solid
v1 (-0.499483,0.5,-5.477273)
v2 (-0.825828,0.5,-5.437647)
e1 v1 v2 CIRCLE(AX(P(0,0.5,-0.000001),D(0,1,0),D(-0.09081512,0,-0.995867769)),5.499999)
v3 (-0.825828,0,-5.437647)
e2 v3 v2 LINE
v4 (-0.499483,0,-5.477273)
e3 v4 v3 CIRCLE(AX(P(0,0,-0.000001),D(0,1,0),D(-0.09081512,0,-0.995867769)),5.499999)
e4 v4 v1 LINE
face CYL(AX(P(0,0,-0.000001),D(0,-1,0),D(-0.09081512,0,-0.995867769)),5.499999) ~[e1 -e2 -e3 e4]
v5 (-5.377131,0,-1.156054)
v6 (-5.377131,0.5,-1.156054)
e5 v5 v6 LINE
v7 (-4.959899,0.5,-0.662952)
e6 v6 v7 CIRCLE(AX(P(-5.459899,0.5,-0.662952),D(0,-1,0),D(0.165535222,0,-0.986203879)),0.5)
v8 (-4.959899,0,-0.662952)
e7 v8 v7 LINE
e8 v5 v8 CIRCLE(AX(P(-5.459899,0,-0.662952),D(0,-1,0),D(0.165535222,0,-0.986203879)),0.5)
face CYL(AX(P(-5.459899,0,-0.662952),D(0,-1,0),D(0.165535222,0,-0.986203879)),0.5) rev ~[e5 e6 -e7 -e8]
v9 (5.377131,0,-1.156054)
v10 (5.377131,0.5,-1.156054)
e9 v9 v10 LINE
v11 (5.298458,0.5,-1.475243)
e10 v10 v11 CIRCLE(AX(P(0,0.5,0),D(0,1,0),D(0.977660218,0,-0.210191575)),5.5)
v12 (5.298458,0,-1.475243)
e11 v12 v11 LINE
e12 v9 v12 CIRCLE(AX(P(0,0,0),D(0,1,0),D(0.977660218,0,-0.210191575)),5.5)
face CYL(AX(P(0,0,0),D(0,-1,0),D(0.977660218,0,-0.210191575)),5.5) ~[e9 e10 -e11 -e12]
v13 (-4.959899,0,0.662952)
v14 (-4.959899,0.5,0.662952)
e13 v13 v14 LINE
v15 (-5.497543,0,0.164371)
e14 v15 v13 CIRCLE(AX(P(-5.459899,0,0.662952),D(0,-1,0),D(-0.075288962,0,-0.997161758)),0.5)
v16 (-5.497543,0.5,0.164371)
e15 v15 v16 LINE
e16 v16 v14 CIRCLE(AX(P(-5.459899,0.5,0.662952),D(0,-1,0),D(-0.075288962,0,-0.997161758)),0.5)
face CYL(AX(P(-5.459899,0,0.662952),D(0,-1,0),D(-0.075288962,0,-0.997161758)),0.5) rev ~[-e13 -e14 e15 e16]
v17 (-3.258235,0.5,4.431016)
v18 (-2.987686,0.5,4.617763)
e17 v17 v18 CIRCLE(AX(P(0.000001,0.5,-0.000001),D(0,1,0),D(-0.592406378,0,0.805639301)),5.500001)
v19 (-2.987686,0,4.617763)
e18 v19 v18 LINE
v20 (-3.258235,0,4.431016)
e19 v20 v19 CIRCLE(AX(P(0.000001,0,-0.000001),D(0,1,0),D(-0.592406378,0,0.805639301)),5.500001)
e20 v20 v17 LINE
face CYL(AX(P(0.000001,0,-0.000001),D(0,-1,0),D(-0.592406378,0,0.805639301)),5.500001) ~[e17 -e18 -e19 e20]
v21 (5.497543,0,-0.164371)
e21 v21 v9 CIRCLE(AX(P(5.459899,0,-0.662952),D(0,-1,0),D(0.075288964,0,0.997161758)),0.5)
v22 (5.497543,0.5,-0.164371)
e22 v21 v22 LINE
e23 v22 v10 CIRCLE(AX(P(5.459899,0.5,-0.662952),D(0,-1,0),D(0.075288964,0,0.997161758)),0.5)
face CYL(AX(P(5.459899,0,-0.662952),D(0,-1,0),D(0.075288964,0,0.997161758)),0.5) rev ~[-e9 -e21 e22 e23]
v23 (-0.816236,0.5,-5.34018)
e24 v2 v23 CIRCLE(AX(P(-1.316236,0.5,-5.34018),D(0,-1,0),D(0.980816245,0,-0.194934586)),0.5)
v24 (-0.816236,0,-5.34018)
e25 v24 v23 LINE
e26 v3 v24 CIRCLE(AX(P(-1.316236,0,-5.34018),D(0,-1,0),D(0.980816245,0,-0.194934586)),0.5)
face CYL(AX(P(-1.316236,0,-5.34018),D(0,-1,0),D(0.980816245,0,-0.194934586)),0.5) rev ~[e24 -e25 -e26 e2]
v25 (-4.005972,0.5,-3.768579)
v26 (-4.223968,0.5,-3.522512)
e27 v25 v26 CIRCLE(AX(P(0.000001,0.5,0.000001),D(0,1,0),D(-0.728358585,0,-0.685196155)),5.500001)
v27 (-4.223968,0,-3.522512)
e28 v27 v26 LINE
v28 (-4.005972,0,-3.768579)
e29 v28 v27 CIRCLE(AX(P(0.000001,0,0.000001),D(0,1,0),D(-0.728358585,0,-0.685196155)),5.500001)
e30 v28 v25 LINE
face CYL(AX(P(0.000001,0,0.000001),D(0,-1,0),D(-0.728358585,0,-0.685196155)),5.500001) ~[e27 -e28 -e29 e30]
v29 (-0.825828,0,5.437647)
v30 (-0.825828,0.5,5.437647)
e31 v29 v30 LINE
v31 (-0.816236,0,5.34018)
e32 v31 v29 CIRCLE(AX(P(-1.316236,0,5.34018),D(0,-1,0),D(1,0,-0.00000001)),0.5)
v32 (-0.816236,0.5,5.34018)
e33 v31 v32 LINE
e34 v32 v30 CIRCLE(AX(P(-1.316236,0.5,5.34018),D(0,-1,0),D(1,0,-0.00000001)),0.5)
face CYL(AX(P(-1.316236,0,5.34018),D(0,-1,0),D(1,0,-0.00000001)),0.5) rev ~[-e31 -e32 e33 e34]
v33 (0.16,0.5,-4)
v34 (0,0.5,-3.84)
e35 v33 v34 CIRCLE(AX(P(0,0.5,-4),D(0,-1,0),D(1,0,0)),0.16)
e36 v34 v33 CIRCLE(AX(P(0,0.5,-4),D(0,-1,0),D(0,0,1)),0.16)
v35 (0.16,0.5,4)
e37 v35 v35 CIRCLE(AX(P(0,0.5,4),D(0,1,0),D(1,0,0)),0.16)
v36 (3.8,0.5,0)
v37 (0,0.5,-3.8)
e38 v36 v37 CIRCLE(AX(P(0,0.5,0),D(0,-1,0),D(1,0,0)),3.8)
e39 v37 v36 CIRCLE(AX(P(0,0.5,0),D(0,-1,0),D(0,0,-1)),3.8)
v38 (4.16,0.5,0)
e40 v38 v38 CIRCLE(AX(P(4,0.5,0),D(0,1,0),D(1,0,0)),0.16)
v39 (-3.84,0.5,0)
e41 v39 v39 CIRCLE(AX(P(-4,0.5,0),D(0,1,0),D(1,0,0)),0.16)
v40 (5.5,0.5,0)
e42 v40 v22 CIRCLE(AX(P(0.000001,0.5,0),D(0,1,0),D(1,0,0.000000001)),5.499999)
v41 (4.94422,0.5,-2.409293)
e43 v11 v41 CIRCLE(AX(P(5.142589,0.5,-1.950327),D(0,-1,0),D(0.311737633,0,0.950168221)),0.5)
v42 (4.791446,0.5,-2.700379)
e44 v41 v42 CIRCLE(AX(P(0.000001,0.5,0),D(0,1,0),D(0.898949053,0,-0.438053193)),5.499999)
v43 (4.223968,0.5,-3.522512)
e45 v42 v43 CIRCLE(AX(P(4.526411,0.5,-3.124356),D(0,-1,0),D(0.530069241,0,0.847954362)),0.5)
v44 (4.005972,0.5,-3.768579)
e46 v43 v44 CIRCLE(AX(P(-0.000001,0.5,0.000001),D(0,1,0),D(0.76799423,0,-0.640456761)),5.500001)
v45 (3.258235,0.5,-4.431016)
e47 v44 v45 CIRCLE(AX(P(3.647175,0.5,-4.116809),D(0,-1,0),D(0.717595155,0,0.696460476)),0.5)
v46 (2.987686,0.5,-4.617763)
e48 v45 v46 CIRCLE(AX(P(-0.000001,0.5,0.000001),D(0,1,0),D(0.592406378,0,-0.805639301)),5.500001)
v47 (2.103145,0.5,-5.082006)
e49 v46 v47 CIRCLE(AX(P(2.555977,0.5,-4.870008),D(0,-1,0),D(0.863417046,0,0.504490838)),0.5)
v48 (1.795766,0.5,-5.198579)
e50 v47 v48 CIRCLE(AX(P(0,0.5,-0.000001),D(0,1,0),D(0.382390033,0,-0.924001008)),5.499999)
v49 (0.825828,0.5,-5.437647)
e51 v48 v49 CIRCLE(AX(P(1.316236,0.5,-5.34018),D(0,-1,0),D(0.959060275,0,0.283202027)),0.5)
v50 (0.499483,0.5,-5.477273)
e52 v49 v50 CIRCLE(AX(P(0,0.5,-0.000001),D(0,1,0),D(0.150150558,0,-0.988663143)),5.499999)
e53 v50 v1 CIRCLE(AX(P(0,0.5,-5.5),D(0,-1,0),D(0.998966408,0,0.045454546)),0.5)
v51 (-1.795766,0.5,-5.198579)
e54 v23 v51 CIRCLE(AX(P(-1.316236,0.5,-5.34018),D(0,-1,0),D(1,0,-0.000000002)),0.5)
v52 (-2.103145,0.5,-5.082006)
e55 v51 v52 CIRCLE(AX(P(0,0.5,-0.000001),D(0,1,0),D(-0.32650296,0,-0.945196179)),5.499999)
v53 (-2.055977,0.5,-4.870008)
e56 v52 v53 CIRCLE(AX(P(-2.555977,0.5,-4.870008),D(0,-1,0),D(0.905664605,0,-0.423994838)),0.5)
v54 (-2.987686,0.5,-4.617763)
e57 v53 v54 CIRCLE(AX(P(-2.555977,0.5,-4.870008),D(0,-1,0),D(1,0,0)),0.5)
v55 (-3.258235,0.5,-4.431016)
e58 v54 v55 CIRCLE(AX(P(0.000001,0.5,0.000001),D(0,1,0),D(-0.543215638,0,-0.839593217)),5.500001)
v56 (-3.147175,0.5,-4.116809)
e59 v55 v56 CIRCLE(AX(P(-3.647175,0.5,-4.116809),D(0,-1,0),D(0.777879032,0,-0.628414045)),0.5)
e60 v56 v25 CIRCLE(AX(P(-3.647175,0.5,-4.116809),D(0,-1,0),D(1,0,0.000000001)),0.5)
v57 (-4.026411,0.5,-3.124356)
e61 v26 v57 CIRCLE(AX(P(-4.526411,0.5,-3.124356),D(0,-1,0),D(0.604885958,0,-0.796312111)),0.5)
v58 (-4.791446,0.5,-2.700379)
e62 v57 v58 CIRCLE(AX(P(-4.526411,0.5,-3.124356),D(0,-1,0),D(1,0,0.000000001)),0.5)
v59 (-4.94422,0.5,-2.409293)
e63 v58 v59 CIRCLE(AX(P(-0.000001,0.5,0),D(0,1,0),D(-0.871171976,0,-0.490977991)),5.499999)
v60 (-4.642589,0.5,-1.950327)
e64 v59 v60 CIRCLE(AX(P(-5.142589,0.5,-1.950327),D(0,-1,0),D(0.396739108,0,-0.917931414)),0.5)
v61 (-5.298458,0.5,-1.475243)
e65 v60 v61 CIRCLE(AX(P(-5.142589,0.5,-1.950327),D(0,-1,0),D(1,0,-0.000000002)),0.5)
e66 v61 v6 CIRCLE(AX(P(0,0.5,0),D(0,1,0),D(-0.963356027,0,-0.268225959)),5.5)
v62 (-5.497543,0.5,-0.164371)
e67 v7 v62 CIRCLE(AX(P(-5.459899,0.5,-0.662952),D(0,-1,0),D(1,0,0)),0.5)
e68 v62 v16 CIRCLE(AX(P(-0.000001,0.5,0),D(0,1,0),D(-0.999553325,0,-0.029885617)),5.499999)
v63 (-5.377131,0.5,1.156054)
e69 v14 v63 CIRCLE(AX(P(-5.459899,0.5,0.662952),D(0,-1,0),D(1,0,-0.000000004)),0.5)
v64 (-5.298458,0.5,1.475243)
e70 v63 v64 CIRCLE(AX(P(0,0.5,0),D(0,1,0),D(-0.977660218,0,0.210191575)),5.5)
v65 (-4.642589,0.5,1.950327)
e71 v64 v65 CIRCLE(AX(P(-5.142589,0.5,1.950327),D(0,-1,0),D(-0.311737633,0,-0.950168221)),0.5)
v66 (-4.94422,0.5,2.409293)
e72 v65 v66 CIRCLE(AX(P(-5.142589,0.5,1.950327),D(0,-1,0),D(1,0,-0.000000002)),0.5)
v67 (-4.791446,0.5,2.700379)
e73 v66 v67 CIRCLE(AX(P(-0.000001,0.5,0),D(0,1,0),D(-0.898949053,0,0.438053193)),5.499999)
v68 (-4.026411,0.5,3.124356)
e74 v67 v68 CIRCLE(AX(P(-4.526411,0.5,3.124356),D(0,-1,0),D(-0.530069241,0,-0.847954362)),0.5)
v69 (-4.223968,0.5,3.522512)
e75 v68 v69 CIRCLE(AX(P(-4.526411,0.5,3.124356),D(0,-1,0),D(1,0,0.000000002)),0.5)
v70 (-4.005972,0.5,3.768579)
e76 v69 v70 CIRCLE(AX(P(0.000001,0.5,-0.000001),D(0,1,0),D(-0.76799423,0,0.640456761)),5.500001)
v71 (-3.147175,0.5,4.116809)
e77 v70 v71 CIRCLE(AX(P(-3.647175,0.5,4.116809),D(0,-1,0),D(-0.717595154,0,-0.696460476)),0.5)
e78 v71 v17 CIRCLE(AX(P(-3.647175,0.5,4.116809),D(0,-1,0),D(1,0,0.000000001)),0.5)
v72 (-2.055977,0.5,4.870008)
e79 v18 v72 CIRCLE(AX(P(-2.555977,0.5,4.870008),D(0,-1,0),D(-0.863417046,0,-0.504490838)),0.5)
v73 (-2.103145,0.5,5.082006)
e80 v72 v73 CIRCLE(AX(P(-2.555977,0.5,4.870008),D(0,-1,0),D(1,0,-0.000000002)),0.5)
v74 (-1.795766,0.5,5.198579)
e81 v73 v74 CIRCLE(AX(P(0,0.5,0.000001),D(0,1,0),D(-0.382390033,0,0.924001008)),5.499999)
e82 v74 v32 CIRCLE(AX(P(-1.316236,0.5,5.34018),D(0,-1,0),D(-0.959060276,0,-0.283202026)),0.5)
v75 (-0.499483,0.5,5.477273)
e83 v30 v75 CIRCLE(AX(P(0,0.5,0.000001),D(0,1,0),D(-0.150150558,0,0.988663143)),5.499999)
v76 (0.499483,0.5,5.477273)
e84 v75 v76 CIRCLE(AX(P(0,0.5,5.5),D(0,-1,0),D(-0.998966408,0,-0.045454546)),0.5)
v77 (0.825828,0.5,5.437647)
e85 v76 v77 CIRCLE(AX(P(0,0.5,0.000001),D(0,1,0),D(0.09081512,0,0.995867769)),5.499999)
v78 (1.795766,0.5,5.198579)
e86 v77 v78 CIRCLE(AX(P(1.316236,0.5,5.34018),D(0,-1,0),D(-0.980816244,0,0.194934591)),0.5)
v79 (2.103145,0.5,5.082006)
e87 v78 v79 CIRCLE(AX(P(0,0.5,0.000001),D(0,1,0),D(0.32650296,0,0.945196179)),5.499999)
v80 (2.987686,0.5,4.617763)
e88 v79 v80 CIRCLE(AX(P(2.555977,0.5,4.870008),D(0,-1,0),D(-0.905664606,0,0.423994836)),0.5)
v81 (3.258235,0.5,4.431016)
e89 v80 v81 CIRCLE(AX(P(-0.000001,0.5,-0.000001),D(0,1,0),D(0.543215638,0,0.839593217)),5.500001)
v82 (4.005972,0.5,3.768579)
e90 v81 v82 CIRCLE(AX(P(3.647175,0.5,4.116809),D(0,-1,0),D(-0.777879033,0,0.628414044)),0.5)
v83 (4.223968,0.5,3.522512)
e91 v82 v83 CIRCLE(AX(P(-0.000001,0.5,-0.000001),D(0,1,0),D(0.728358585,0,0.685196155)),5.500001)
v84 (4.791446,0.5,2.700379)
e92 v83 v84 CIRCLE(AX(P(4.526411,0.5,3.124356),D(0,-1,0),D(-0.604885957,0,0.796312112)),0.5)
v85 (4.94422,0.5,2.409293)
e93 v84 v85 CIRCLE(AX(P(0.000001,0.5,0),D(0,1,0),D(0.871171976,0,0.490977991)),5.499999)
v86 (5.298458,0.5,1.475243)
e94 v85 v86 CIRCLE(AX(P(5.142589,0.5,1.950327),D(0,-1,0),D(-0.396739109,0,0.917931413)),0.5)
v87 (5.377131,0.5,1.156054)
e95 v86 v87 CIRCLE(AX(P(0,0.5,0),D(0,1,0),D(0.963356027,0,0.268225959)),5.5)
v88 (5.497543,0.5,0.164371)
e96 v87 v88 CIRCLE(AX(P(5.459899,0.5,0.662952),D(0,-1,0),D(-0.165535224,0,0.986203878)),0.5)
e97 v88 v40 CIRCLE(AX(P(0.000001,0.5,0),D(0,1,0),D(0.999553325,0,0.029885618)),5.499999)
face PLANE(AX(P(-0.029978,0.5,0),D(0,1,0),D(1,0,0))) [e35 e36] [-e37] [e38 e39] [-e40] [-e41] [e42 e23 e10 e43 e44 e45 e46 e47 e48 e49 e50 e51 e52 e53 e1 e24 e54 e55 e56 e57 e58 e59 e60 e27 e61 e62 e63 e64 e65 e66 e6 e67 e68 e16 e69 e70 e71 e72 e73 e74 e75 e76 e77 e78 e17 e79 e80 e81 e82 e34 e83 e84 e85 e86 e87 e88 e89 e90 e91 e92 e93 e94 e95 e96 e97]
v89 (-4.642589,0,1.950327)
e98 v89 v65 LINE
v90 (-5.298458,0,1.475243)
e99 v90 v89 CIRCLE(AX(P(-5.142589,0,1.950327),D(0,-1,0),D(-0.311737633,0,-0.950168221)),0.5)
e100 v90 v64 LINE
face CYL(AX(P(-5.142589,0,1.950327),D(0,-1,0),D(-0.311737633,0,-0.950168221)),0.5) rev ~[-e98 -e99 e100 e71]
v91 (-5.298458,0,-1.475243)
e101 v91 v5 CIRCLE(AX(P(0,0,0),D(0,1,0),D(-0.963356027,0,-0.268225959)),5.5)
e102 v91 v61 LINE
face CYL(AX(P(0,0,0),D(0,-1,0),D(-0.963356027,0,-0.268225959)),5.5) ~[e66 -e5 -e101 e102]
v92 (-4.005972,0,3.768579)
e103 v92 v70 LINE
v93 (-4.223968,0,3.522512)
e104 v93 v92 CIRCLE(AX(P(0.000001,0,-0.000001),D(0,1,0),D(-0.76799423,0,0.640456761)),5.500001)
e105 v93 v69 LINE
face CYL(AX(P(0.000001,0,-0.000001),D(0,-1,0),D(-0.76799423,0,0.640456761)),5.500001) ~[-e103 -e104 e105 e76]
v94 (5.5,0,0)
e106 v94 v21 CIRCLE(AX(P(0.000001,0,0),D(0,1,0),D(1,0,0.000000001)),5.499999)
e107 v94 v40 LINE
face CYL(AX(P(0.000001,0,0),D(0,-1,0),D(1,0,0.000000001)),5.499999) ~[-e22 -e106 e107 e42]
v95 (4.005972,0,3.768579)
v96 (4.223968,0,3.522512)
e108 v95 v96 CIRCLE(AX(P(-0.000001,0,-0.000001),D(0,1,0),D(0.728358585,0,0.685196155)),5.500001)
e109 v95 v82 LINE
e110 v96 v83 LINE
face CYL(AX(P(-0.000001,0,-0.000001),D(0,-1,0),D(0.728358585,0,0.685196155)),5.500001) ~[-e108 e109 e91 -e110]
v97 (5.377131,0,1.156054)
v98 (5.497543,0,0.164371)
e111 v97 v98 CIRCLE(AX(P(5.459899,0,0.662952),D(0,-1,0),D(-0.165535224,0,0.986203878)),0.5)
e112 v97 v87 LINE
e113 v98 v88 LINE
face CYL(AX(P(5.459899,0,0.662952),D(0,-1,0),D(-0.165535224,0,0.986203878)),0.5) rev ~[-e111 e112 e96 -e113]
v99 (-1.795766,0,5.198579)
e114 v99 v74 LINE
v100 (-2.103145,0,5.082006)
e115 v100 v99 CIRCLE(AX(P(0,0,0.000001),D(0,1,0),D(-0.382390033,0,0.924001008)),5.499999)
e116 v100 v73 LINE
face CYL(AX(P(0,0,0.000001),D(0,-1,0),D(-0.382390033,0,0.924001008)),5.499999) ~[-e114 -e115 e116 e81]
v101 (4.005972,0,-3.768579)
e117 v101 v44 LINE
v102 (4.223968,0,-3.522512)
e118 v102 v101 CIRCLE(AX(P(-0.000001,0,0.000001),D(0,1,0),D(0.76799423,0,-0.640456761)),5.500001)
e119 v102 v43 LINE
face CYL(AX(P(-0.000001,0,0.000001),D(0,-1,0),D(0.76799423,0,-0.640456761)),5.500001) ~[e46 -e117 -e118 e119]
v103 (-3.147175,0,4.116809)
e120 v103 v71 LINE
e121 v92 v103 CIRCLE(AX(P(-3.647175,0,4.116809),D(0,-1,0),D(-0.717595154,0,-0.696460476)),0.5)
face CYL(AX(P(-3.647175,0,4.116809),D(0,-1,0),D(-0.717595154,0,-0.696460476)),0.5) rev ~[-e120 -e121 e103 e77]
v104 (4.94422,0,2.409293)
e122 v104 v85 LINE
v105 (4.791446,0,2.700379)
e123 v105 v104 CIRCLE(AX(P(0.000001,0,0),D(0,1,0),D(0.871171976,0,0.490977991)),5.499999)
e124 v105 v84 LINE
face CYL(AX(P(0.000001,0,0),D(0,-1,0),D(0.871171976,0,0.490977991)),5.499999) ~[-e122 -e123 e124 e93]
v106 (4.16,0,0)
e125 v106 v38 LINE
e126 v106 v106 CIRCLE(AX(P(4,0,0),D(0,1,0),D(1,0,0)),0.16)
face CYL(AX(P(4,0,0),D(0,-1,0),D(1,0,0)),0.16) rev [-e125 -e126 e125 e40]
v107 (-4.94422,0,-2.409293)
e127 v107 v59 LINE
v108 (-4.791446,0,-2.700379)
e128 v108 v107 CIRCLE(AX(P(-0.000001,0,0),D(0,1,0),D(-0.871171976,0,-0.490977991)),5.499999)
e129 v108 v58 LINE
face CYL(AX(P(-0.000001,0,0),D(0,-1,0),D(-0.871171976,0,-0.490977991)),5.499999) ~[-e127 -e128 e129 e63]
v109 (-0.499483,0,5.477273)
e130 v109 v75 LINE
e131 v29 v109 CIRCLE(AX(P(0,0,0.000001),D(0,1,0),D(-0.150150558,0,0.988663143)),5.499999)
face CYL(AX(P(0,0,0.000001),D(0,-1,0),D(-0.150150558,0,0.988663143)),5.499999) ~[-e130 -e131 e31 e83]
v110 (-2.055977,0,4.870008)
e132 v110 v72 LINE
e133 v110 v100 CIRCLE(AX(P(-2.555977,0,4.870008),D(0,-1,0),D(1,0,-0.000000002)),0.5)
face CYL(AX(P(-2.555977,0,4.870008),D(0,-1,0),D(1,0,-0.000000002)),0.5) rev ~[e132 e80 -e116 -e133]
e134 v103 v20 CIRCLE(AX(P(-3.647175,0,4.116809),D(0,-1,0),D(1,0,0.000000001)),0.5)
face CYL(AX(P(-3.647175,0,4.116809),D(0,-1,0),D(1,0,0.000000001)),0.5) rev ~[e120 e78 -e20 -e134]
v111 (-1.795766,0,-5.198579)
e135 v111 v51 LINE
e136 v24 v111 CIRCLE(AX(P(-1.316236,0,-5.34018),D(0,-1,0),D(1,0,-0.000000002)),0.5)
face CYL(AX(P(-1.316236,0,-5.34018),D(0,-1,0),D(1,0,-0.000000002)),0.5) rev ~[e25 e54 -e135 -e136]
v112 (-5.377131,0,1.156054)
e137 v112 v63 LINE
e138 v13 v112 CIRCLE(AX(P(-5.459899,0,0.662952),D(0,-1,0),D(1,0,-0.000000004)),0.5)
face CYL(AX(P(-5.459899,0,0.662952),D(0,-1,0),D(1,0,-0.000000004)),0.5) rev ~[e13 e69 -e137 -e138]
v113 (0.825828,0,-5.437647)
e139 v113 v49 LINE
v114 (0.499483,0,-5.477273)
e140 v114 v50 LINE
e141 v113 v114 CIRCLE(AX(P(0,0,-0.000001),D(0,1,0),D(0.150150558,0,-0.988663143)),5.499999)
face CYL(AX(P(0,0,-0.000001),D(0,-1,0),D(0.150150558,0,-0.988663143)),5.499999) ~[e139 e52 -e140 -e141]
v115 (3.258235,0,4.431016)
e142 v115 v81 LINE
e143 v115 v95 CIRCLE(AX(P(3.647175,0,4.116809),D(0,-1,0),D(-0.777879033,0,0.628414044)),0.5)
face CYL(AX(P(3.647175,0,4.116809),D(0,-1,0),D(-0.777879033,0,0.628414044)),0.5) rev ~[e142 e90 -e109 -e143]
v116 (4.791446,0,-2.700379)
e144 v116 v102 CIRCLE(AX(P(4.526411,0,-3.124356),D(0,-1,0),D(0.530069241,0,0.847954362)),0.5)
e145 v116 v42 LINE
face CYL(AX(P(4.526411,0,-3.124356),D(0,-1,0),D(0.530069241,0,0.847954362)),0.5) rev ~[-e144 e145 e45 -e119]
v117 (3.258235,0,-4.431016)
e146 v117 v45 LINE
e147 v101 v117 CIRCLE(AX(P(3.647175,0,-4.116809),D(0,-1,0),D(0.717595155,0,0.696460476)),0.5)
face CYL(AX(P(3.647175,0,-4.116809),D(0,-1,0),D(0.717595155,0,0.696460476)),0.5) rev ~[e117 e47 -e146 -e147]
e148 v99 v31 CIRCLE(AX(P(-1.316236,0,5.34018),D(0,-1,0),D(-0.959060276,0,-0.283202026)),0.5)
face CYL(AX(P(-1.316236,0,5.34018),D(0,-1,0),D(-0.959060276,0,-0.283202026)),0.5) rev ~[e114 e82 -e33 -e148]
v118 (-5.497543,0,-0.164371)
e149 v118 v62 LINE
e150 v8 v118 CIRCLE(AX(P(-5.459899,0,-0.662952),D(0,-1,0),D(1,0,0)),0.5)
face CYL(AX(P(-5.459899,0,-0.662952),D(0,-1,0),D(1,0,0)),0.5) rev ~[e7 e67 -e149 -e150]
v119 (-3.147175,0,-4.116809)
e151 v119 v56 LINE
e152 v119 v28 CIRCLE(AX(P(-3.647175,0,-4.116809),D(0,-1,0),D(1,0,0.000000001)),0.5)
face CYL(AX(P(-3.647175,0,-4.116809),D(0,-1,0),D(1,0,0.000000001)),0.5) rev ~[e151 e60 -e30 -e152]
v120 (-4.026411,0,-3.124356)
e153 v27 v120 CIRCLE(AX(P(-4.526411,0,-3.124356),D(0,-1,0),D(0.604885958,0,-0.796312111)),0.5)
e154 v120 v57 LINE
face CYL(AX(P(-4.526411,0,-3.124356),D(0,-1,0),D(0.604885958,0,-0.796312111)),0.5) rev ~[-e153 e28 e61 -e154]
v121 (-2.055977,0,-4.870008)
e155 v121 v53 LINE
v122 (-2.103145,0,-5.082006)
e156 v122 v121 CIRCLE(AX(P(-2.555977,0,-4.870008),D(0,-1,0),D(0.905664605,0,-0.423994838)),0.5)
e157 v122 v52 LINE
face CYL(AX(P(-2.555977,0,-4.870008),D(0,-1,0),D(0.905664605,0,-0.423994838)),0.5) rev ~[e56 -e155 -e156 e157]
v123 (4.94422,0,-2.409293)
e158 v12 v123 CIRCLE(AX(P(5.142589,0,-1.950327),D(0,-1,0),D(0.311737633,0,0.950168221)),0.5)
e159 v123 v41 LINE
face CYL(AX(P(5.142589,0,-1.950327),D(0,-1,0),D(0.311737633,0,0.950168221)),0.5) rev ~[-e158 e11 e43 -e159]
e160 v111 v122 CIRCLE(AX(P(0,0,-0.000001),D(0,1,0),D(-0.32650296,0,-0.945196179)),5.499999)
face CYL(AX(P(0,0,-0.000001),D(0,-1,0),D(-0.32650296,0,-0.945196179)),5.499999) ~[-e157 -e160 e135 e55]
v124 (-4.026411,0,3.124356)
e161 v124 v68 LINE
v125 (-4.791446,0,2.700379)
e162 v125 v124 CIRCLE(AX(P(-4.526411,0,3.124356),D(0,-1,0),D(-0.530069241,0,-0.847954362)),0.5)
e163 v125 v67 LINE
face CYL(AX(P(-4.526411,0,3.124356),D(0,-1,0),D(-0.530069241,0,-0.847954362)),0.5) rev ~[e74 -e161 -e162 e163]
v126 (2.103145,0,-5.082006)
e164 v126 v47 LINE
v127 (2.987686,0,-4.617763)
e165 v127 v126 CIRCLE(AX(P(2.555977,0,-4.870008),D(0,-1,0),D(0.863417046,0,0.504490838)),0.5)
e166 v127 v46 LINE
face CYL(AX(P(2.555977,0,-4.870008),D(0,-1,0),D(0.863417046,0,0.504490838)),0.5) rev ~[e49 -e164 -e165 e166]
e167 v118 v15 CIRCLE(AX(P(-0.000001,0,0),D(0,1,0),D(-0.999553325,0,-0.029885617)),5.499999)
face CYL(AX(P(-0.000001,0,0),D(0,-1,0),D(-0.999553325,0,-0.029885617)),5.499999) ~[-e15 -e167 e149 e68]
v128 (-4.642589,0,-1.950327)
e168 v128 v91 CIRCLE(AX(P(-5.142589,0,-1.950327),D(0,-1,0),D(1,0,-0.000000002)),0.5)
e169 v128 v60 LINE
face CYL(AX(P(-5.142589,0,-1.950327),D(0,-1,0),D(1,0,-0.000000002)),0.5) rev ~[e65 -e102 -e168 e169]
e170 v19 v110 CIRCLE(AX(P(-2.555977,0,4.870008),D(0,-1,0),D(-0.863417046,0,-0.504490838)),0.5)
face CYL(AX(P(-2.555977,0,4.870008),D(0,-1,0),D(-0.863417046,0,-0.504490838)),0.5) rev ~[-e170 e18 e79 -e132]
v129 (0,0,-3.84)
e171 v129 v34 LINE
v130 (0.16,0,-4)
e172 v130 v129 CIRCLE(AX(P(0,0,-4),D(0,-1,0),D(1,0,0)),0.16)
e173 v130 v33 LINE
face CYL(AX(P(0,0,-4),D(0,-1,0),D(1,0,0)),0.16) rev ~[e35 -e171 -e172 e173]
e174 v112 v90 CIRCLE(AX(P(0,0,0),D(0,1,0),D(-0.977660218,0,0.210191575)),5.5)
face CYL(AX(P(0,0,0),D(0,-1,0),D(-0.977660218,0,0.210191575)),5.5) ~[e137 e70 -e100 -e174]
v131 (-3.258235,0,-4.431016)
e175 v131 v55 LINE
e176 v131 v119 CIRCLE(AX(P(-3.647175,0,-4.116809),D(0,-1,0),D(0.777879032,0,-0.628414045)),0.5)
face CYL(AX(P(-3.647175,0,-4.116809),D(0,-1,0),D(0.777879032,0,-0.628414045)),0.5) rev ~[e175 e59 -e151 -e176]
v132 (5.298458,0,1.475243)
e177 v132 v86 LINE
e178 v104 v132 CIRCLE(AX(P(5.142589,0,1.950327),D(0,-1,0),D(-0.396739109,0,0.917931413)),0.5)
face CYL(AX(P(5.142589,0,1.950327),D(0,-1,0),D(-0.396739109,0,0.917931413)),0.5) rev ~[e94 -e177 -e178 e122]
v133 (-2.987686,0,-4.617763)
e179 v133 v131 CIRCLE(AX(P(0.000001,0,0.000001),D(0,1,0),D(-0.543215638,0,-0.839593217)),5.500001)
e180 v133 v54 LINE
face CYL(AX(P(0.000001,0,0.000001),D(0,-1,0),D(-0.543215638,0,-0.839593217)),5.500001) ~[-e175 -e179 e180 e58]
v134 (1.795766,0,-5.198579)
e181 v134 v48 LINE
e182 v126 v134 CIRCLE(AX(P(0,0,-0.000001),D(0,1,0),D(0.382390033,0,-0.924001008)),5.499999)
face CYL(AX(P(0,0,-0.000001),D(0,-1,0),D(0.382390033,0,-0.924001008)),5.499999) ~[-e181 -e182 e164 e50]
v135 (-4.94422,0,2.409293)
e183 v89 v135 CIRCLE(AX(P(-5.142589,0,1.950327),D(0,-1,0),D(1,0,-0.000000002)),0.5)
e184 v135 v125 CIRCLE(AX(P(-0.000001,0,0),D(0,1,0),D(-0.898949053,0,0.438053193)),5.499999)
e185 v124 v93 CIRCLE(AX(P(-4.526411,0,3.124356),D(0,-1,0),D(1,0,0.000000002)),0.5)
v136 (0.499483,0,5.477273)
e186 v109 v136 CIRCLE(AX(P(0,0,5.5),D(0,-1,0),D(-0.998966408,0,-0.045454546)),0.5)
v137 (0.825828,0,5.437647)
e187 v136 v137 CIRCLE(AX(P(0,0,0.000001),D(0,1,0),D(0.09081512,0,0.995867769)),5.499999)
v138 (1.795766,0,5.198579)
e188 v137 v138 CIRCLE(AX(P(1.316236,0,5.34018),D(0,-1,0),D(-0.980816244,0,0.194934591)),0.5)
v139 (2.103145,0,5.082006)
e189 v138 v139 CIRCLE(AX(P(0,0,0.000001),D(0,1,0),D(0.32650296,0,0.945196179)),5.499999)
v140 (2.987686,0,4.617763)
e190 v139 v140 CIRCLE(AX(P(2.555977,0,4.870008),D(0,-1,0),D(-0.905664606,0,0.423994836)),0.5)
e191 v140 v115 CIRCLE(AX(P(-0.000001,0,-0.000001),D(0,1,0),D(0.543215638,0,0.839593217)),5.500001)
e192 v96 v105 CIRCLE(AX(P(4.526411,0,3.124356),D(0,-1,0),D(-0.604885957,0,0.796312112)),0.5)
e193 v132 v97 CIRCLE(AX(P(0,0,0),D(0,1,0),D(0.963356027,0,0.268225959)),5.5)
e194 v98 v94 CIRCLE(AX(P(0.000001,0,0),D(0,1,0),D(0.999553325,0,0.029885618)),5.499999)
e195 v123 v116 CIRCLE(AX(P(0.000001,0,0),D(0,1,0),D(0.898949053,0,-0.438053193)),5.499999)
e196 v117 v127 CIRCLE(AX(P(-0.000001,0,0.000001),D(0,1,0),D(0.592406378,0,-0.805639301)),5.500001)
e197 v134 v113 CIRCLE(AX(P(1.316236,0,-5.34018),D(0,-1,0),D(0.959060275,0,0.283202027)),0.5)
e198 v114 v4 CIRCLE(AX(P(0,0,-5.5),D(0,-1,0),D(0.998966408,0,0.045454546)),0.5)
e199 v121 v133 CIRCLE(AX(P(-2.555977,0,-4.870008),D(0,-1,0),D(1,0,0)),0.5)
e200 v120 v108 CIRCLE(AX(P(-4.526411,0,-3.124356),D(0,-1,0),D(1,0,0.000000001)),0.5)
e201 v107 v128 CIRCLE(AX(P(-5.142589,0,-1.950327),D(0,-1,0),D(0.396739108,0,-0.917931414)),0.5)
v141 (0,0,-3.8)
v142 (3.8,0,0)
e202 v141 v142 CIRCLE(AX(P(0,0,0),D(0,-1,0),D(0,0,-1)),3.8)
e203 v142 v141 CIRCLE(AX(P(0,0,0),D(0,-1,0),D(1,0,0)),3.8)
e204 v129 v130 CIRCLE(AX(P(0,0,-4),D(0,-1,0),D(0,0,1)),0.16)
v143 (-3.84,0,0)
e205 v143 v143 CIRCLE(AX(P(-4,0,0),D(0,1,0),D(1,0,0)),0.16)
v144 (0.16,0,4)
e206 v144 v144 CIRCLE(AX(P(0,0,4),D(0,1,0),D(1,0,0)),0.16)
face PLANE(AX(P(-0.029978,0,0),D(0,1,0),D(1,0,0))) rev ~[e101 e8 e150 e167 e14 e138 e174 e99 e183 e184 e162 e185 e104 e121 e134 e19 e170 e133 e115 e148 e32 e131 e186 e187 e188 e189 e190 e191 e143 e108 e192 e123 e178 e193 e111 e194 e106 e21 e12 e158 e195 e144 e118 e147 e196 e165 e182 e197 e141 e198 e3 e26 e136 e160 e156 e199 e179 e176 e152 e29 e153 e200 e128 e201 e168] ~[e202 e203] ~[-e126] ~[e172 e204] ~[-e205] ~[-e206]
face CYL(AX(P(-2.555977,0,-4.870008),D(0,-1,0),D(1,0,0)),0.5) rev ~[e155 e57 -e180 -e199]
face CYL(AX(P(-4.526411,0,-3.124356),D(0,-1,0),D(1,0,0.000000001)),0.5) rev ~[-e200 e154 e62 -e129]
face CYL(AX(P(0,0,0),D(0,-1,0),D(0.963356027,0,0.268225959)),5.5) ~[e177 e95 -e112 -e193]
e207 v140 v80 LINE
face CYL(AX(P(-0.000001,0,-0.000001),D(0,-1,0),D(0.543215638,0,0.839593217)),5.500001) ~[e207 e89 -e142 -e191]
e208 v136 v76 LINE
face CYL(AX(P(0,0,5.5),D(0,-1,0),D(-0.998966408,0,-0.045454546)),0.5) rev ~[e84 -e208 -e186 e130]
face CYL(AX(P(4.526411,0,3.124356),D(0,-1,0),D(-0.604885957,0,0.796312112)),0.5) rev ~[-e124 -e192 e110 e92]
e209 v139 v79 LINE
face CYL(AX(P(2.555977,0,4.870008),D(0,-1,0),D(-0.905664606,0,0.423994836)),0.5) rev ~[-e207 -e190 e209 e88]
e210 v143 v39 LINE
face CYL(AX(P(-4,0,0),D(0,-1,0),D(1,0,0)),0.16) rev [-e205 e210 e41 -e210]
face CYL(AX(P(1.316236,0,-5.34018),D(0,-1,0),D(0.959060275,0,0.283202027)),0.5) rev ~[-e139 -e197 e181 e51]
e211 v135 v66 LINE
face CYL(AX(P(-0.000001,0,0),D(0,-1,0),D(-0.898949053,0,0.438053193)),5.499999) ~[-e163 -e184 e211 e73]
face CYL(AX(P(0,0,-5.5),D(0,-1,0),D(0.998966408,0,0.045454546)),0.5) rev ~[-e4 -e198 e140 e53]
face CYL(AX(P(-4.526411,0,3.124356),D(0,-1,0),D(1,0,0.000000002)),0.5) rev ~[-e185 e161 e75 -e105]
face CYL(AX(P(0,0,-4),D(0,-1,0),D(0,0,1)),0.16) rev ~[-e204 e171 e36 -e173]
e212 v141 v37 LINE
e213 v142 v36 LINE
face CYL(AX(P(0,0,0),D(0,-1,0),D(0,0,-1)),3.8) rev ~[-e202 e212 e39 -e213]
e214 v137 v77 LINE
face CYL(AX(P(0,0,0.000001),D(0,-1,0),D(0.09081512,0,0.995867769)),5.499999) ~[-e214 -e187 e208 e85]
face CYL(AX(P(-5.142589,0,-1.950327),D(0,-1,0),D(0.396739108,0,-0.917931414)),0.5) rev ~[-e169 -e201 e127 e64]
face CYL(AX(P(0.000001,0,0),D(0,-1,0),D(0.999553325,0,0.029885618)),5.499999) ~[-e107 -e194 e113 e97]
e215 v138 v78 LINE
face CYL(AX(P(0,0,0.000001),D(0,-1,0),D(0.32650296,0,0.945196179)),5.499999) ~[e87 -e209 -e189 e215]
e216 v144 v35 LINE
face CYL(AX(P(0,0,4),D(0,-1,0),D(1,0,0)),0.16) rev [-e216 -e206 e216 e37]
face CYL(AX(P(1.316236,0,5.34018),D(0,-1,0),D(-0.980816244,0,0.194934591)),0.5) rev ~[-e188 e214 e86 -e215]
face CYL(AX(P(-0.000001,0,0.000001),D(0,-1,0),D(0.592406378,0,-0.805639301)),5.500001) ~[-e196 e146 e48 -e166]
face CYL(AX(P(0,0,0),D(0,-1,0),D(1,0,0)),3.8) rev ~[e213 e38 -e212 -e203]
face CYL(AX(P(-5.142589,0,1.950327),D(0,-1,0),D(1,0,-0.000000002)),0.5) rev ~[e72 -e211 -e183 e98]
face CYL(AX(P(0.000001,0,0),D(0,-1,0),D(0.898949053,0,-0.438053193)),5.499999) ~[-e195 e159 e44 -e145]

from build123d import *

# Parameters (mm, degrees)
ESQUISSE1_R        = 0.16
BOSS_EXTRU_1_DEPTH = 0.5


with BuildPart() as part:
    # Esquisse1 → Boss.-Extru.1 (new body)
    with BuildSketch(Plane(origin=(0, 0, 0), x_dir=(1, 0, 0), z_dir=(0, 1, 0))):
        with BuildLine():
            ThreePointArc((5.497543289, -0.164370862), (5.499385788, -0.08219461), (5.5, 0))
            ThreePointArc((5.5, 0), (5.499385788, 0.08219461), (5.497543289, 0.164370862))
            ThreePointArc((5.497543289, 0.164370862), (4.96354437, 0.602683401), (5.377131195, 1.15605368))
            ThreePointArc((5.377131195, 1.15605368), (5.340179996, 1.316236154), (5.298458151, 1.475242768))
            ThreePointArc((5.298458151, 1.475242768), (4.675081213, 1.773024435), (4.94421978, 2.409292585))
            ThreePointArc((4.94421978, 2.409292585), (4.870008141, 2.555977446), (4.791445883, 2.700378926))
            ThreePointArc((4.791445883, 2.700378926), (4.114919329, 2.840323734), (4.223968284, 3.522512163))
            ThreePointArc((4.223968284, 3.522512163), (4.116809115, 3.64717462), (4.005972198, 3.768578877))
            ThreePointArc((4.005972198, 3.768578877), (3.315613291, 3.742553741), (3.258235104, 4.431016137))
            ThreePointArc((3.258235104, 4.431016137), (3.124356107, 4.526411262), (2.987685969, 4.617762722))
            ThreePointArc((2.987685969, 4.617762722), (2.32361586, 4.427280128), (2.103145143, 5.082005559))
            ThreePointArc((2.103145143, 5.082005559), (1.950326879, 5.142589335), (1.795766291, 5.198578982))
            ThreePointArc((1.795766291, 5.198578982), (1.196578321, 4.854709087), (0.825828031, 5.437647291))
            ThreePointArc((0.825828031, 5.437647291), (0.662951741, 5.459898808), (0.499483204, 5.477272727))
            ThreePointArc((0.499483204, 5.477272727), (0, 5), (-0.499483204, 5.477272727))
            ThreePointArc((-0.499483204, 5.477272727), (-0.662951741, 5.459898808), (-0.825828031, 5.437647291))
            ThreePointArc((-0.825828031, 5.437647291), (-0.818639901, 5.389149062), (-0.816236154, 5.340179996))
            ThreePointArc((-0.816236154, 5.340179996), (-1.24469969, 4.845323921), (-1.795766291, 5.198578982))
            ThreePointArc((-1.795766291, 5.198578982), (-1.950326879, 5.142589335), (-2.103145143, 5.082005559))
            ThreePointArc((-2.103145143, 5.082005559), (-2.067911799, 4.978598768), (-2.055977446, 4.870008141))
            ThreePointArc((-2.055977446, 4.870008141), (-2.425314256, 4.387382892), (-2.987685969, 4.617762722))
            ThreePointArc((-2.987685969, 4.617762722), (-3.124356107, 4.526411262), (-3.258235104, 4.431016137))
            ThreePointArc((-3.258235104, 4.431016137), (-3.175756675, 4.283437807), (-3.14717462, 4.116809115))
            ThreePointArc((-3.14717462, 4.116809115), (-3.459290066, 3.653452455), (-4.005972198, 3.768578877))
            ThreePointArc((-4.005972198, 3.768578877), (-4.116809115, 3.64717462), (-4.223968284, 3.522512163))
            ThreePointArc((-4.223968284, 3.522512163), (-4.078515354, 3.346593042), (-4.026411262, 3.124356107))
            ThreePointArc((-4.026411262, 3.124356107), (-4.284045125, 2.687024819), (-4.791445883, 2.700378926))
            ThreePointArc((-4.791445883, 2.700378926), (-4.870008141, 2.555977446), (-4.94421978, 2.409292585))
            ThreePointArc((-4.94421978, 2.409292585), (-4.724746794, 2.224931342), (-4.642589335, 1.950326879))
            ThreePointArc((-4.642589335, 1.950326879), (-4.849275857, 1.545398238), (-5.298458151, 1.475242768))
            ThreePointArc((-5.298458151, 1.475242768), (-5.340179996, 1.316236154), (-5.377131195, 1.15605368))
            ThreePointArc((-5.377131195, 1.15605368), (-5.07820272, 0.985919382), (-4.959898808, 0.662951741))
            ThreePointArc((-4.959898808, 0.662951741), (-5.119915162, 0.296330519), (-5.497543289, 0.164370862))
            ThreePointArc((-5.497543289, 0.164370862), (-5.5, 0), (-5.497543289, -0.164370862))
            ThreePointArc((-5.497543289, -0.164370862), (-5.119915162, -0.296330519), (-4.959898808, -0.662951741))
            ThreePointArc((-4.959898808, -0.662951741), (-5.07820272, -0.985919382), (-5.377131195, -1.15605368))
            ThreePointArc((-5.377131195, -1.15605368), (-5.340179996, -1.316236154), (-5.298458151, -1.475242768))
            ThreePointArc((-5.298458151, -1.475242768), (-4.849275857, -1.545398238), (-4.642589335, -1.950326879))
            ThreePointArc((-4.642589335, -1.950326879), (-4.724746794, -2.224931342), (-4.94421978, -2.409292585))
            ThreePointArc((-4.94421978, -2.409292585), (-4.870008141, -2.555977446), (-4.791445883, -2.700378926))
            ThreePointArc((-4.791445883, -2.700378926), (-4.284045125, -2.687024819), (-4.026411262, -3.124356107))
            ThreePointArc((-4.026411262, -3.124356107), (-4.078515354, -3.346593042), (-4.223968284, -3.522512163))
            ThreePointArc((-4.223968284, -3.522512163), (-4.116809115, -3.64717462), (-4.005972198, -3.768578877))
            ThreePointArc((-4.005972198, -3.768578877), (-3.459290066, -3.653452455), (-3.14717462, -4.116809115))
            ThreePointArc((-3.14717462, -4.116809115), (-3.175756675, -4.283437807), (-3.258235104, -4.431016137))
            ThreePointArc((-3.258235104, -4.431016137), (-3.124356107, -4.526411262), (-2.987685969, -4.617762722))
            ThreePointArc((-2.987685969, -4.617762722), (-2.425314256, -4.387382892), (-2.055977446, -4.870008141))
            ThreePointArc((-2.055977446, -4.870008141), (-2.067911799, -4.978598768), (-2.103145143, -5.082005559))
            ThreePointArc((-2.103145143, -5.082005559), (-1.950326879, -5.142589335), (-1.795766291, -5.198578982))
            ThreePointArc((-1.795766291, -5.198578982), (-1.24469969, -4.845323921), (-0.816236154, -5.340179996))
            ThreePointArc((-0.816236154, -5.340179996), (-0.818639901, -5.389149062), (-0.825828031, -5.437647291))
            ThreePointArc((-0.825828031, -5.437647291), (-0.662951741, -5.459898808), (-0.499483204, -5.477272727))
            ThreePointArc((-0.499483204, -5.477272727), (0, -5), (0.499483204, -5.477272727))
            ThreePointArc((0.499483204, -5.477272727), (0.662951741, -5.459898808), (0.825828031, -5.437647291))
            ThreePointArc((0.825828031, -5.437647291), (1.196578321, -4.854709087), (1.795766291, -5.198578982))
            ThreePointArc((1.795766291, -5.198578982), (1.950326879, -5.142589335), (2.103145143, -5.082005559))
            ThreePointArc((2.103145143, -5.082005559), (2.32361586, -4.427280128), (2.987685969, -4.617762722))
            ThreePointArc((2.987685969, -4.617762722), (3.124356107, -4.526411262), (3.258235104, -4.431016137))
            ThreePointArc((3.258235104, -4.431016137), (3.315613291, -3.742553741), (4.005972198, -3.768578877))
            ThreePointArc((4.005972198, -3.768578877), (4.116809115, -3.64717462), (4.223968284, -3.522512163))
            ThreePointArc((4.223968284, -3.522512163), (4.114919329, -2.840323734), (4.791445883, -2.700378926))
            ThreePointArc((4.791445883, -2.700378926), (4.870008141, -2.555977446), (4.94421978, -2.409292585))
            ThreePointArc((4.94421978, -2.409292585), (4.675081213, -1.773024435), (5.298458151, -1.475242768))
            ThreePointArc((5.298458151, -1.475242768), (5.340179996, -1.316236154), (5.377131195, -1.15605368))
            ThreePointArc((5.377131195, -1.15605368), (4.96354437, -0.602683401), (5.497543289, -0.164370862))
        make_face()
        with Locations((0, -4)):
            Circle(ESQUISSE1_R, mode=Mode.SUBTRACT)
        with Locations((-4, 0)):
            Circle(ESQUISSE1_R, mode=Mode.SUBTRACT)
        with BuildLine():
            ThreePointArc((3.8, 0), (-2.687005769, -2.687005769), (0, 3.8))
            ThreePointArc((0, 3.8), (2.687005769, 2.687005769), (3.8, 0))
        make_face(mode=Mode.SUBTRACT)
        with BuildLine():
            ThreePointArc((0.16, 4), (0.113137085, 3.886862915), (0, 3.84))
            ThreePointArc((0, 3.84), (-0.113137085, 4.113137085), (0.16, 4))
        make_face(mode=Mode.SUBTRACT)
        with Locations((4, 0)):
            Circle(ESQUISSE1_R, mode=Mode.SUBTRACT)
    extrude(amount=BOSS_EXTRU_1_DEPTH)


solid = part.part
